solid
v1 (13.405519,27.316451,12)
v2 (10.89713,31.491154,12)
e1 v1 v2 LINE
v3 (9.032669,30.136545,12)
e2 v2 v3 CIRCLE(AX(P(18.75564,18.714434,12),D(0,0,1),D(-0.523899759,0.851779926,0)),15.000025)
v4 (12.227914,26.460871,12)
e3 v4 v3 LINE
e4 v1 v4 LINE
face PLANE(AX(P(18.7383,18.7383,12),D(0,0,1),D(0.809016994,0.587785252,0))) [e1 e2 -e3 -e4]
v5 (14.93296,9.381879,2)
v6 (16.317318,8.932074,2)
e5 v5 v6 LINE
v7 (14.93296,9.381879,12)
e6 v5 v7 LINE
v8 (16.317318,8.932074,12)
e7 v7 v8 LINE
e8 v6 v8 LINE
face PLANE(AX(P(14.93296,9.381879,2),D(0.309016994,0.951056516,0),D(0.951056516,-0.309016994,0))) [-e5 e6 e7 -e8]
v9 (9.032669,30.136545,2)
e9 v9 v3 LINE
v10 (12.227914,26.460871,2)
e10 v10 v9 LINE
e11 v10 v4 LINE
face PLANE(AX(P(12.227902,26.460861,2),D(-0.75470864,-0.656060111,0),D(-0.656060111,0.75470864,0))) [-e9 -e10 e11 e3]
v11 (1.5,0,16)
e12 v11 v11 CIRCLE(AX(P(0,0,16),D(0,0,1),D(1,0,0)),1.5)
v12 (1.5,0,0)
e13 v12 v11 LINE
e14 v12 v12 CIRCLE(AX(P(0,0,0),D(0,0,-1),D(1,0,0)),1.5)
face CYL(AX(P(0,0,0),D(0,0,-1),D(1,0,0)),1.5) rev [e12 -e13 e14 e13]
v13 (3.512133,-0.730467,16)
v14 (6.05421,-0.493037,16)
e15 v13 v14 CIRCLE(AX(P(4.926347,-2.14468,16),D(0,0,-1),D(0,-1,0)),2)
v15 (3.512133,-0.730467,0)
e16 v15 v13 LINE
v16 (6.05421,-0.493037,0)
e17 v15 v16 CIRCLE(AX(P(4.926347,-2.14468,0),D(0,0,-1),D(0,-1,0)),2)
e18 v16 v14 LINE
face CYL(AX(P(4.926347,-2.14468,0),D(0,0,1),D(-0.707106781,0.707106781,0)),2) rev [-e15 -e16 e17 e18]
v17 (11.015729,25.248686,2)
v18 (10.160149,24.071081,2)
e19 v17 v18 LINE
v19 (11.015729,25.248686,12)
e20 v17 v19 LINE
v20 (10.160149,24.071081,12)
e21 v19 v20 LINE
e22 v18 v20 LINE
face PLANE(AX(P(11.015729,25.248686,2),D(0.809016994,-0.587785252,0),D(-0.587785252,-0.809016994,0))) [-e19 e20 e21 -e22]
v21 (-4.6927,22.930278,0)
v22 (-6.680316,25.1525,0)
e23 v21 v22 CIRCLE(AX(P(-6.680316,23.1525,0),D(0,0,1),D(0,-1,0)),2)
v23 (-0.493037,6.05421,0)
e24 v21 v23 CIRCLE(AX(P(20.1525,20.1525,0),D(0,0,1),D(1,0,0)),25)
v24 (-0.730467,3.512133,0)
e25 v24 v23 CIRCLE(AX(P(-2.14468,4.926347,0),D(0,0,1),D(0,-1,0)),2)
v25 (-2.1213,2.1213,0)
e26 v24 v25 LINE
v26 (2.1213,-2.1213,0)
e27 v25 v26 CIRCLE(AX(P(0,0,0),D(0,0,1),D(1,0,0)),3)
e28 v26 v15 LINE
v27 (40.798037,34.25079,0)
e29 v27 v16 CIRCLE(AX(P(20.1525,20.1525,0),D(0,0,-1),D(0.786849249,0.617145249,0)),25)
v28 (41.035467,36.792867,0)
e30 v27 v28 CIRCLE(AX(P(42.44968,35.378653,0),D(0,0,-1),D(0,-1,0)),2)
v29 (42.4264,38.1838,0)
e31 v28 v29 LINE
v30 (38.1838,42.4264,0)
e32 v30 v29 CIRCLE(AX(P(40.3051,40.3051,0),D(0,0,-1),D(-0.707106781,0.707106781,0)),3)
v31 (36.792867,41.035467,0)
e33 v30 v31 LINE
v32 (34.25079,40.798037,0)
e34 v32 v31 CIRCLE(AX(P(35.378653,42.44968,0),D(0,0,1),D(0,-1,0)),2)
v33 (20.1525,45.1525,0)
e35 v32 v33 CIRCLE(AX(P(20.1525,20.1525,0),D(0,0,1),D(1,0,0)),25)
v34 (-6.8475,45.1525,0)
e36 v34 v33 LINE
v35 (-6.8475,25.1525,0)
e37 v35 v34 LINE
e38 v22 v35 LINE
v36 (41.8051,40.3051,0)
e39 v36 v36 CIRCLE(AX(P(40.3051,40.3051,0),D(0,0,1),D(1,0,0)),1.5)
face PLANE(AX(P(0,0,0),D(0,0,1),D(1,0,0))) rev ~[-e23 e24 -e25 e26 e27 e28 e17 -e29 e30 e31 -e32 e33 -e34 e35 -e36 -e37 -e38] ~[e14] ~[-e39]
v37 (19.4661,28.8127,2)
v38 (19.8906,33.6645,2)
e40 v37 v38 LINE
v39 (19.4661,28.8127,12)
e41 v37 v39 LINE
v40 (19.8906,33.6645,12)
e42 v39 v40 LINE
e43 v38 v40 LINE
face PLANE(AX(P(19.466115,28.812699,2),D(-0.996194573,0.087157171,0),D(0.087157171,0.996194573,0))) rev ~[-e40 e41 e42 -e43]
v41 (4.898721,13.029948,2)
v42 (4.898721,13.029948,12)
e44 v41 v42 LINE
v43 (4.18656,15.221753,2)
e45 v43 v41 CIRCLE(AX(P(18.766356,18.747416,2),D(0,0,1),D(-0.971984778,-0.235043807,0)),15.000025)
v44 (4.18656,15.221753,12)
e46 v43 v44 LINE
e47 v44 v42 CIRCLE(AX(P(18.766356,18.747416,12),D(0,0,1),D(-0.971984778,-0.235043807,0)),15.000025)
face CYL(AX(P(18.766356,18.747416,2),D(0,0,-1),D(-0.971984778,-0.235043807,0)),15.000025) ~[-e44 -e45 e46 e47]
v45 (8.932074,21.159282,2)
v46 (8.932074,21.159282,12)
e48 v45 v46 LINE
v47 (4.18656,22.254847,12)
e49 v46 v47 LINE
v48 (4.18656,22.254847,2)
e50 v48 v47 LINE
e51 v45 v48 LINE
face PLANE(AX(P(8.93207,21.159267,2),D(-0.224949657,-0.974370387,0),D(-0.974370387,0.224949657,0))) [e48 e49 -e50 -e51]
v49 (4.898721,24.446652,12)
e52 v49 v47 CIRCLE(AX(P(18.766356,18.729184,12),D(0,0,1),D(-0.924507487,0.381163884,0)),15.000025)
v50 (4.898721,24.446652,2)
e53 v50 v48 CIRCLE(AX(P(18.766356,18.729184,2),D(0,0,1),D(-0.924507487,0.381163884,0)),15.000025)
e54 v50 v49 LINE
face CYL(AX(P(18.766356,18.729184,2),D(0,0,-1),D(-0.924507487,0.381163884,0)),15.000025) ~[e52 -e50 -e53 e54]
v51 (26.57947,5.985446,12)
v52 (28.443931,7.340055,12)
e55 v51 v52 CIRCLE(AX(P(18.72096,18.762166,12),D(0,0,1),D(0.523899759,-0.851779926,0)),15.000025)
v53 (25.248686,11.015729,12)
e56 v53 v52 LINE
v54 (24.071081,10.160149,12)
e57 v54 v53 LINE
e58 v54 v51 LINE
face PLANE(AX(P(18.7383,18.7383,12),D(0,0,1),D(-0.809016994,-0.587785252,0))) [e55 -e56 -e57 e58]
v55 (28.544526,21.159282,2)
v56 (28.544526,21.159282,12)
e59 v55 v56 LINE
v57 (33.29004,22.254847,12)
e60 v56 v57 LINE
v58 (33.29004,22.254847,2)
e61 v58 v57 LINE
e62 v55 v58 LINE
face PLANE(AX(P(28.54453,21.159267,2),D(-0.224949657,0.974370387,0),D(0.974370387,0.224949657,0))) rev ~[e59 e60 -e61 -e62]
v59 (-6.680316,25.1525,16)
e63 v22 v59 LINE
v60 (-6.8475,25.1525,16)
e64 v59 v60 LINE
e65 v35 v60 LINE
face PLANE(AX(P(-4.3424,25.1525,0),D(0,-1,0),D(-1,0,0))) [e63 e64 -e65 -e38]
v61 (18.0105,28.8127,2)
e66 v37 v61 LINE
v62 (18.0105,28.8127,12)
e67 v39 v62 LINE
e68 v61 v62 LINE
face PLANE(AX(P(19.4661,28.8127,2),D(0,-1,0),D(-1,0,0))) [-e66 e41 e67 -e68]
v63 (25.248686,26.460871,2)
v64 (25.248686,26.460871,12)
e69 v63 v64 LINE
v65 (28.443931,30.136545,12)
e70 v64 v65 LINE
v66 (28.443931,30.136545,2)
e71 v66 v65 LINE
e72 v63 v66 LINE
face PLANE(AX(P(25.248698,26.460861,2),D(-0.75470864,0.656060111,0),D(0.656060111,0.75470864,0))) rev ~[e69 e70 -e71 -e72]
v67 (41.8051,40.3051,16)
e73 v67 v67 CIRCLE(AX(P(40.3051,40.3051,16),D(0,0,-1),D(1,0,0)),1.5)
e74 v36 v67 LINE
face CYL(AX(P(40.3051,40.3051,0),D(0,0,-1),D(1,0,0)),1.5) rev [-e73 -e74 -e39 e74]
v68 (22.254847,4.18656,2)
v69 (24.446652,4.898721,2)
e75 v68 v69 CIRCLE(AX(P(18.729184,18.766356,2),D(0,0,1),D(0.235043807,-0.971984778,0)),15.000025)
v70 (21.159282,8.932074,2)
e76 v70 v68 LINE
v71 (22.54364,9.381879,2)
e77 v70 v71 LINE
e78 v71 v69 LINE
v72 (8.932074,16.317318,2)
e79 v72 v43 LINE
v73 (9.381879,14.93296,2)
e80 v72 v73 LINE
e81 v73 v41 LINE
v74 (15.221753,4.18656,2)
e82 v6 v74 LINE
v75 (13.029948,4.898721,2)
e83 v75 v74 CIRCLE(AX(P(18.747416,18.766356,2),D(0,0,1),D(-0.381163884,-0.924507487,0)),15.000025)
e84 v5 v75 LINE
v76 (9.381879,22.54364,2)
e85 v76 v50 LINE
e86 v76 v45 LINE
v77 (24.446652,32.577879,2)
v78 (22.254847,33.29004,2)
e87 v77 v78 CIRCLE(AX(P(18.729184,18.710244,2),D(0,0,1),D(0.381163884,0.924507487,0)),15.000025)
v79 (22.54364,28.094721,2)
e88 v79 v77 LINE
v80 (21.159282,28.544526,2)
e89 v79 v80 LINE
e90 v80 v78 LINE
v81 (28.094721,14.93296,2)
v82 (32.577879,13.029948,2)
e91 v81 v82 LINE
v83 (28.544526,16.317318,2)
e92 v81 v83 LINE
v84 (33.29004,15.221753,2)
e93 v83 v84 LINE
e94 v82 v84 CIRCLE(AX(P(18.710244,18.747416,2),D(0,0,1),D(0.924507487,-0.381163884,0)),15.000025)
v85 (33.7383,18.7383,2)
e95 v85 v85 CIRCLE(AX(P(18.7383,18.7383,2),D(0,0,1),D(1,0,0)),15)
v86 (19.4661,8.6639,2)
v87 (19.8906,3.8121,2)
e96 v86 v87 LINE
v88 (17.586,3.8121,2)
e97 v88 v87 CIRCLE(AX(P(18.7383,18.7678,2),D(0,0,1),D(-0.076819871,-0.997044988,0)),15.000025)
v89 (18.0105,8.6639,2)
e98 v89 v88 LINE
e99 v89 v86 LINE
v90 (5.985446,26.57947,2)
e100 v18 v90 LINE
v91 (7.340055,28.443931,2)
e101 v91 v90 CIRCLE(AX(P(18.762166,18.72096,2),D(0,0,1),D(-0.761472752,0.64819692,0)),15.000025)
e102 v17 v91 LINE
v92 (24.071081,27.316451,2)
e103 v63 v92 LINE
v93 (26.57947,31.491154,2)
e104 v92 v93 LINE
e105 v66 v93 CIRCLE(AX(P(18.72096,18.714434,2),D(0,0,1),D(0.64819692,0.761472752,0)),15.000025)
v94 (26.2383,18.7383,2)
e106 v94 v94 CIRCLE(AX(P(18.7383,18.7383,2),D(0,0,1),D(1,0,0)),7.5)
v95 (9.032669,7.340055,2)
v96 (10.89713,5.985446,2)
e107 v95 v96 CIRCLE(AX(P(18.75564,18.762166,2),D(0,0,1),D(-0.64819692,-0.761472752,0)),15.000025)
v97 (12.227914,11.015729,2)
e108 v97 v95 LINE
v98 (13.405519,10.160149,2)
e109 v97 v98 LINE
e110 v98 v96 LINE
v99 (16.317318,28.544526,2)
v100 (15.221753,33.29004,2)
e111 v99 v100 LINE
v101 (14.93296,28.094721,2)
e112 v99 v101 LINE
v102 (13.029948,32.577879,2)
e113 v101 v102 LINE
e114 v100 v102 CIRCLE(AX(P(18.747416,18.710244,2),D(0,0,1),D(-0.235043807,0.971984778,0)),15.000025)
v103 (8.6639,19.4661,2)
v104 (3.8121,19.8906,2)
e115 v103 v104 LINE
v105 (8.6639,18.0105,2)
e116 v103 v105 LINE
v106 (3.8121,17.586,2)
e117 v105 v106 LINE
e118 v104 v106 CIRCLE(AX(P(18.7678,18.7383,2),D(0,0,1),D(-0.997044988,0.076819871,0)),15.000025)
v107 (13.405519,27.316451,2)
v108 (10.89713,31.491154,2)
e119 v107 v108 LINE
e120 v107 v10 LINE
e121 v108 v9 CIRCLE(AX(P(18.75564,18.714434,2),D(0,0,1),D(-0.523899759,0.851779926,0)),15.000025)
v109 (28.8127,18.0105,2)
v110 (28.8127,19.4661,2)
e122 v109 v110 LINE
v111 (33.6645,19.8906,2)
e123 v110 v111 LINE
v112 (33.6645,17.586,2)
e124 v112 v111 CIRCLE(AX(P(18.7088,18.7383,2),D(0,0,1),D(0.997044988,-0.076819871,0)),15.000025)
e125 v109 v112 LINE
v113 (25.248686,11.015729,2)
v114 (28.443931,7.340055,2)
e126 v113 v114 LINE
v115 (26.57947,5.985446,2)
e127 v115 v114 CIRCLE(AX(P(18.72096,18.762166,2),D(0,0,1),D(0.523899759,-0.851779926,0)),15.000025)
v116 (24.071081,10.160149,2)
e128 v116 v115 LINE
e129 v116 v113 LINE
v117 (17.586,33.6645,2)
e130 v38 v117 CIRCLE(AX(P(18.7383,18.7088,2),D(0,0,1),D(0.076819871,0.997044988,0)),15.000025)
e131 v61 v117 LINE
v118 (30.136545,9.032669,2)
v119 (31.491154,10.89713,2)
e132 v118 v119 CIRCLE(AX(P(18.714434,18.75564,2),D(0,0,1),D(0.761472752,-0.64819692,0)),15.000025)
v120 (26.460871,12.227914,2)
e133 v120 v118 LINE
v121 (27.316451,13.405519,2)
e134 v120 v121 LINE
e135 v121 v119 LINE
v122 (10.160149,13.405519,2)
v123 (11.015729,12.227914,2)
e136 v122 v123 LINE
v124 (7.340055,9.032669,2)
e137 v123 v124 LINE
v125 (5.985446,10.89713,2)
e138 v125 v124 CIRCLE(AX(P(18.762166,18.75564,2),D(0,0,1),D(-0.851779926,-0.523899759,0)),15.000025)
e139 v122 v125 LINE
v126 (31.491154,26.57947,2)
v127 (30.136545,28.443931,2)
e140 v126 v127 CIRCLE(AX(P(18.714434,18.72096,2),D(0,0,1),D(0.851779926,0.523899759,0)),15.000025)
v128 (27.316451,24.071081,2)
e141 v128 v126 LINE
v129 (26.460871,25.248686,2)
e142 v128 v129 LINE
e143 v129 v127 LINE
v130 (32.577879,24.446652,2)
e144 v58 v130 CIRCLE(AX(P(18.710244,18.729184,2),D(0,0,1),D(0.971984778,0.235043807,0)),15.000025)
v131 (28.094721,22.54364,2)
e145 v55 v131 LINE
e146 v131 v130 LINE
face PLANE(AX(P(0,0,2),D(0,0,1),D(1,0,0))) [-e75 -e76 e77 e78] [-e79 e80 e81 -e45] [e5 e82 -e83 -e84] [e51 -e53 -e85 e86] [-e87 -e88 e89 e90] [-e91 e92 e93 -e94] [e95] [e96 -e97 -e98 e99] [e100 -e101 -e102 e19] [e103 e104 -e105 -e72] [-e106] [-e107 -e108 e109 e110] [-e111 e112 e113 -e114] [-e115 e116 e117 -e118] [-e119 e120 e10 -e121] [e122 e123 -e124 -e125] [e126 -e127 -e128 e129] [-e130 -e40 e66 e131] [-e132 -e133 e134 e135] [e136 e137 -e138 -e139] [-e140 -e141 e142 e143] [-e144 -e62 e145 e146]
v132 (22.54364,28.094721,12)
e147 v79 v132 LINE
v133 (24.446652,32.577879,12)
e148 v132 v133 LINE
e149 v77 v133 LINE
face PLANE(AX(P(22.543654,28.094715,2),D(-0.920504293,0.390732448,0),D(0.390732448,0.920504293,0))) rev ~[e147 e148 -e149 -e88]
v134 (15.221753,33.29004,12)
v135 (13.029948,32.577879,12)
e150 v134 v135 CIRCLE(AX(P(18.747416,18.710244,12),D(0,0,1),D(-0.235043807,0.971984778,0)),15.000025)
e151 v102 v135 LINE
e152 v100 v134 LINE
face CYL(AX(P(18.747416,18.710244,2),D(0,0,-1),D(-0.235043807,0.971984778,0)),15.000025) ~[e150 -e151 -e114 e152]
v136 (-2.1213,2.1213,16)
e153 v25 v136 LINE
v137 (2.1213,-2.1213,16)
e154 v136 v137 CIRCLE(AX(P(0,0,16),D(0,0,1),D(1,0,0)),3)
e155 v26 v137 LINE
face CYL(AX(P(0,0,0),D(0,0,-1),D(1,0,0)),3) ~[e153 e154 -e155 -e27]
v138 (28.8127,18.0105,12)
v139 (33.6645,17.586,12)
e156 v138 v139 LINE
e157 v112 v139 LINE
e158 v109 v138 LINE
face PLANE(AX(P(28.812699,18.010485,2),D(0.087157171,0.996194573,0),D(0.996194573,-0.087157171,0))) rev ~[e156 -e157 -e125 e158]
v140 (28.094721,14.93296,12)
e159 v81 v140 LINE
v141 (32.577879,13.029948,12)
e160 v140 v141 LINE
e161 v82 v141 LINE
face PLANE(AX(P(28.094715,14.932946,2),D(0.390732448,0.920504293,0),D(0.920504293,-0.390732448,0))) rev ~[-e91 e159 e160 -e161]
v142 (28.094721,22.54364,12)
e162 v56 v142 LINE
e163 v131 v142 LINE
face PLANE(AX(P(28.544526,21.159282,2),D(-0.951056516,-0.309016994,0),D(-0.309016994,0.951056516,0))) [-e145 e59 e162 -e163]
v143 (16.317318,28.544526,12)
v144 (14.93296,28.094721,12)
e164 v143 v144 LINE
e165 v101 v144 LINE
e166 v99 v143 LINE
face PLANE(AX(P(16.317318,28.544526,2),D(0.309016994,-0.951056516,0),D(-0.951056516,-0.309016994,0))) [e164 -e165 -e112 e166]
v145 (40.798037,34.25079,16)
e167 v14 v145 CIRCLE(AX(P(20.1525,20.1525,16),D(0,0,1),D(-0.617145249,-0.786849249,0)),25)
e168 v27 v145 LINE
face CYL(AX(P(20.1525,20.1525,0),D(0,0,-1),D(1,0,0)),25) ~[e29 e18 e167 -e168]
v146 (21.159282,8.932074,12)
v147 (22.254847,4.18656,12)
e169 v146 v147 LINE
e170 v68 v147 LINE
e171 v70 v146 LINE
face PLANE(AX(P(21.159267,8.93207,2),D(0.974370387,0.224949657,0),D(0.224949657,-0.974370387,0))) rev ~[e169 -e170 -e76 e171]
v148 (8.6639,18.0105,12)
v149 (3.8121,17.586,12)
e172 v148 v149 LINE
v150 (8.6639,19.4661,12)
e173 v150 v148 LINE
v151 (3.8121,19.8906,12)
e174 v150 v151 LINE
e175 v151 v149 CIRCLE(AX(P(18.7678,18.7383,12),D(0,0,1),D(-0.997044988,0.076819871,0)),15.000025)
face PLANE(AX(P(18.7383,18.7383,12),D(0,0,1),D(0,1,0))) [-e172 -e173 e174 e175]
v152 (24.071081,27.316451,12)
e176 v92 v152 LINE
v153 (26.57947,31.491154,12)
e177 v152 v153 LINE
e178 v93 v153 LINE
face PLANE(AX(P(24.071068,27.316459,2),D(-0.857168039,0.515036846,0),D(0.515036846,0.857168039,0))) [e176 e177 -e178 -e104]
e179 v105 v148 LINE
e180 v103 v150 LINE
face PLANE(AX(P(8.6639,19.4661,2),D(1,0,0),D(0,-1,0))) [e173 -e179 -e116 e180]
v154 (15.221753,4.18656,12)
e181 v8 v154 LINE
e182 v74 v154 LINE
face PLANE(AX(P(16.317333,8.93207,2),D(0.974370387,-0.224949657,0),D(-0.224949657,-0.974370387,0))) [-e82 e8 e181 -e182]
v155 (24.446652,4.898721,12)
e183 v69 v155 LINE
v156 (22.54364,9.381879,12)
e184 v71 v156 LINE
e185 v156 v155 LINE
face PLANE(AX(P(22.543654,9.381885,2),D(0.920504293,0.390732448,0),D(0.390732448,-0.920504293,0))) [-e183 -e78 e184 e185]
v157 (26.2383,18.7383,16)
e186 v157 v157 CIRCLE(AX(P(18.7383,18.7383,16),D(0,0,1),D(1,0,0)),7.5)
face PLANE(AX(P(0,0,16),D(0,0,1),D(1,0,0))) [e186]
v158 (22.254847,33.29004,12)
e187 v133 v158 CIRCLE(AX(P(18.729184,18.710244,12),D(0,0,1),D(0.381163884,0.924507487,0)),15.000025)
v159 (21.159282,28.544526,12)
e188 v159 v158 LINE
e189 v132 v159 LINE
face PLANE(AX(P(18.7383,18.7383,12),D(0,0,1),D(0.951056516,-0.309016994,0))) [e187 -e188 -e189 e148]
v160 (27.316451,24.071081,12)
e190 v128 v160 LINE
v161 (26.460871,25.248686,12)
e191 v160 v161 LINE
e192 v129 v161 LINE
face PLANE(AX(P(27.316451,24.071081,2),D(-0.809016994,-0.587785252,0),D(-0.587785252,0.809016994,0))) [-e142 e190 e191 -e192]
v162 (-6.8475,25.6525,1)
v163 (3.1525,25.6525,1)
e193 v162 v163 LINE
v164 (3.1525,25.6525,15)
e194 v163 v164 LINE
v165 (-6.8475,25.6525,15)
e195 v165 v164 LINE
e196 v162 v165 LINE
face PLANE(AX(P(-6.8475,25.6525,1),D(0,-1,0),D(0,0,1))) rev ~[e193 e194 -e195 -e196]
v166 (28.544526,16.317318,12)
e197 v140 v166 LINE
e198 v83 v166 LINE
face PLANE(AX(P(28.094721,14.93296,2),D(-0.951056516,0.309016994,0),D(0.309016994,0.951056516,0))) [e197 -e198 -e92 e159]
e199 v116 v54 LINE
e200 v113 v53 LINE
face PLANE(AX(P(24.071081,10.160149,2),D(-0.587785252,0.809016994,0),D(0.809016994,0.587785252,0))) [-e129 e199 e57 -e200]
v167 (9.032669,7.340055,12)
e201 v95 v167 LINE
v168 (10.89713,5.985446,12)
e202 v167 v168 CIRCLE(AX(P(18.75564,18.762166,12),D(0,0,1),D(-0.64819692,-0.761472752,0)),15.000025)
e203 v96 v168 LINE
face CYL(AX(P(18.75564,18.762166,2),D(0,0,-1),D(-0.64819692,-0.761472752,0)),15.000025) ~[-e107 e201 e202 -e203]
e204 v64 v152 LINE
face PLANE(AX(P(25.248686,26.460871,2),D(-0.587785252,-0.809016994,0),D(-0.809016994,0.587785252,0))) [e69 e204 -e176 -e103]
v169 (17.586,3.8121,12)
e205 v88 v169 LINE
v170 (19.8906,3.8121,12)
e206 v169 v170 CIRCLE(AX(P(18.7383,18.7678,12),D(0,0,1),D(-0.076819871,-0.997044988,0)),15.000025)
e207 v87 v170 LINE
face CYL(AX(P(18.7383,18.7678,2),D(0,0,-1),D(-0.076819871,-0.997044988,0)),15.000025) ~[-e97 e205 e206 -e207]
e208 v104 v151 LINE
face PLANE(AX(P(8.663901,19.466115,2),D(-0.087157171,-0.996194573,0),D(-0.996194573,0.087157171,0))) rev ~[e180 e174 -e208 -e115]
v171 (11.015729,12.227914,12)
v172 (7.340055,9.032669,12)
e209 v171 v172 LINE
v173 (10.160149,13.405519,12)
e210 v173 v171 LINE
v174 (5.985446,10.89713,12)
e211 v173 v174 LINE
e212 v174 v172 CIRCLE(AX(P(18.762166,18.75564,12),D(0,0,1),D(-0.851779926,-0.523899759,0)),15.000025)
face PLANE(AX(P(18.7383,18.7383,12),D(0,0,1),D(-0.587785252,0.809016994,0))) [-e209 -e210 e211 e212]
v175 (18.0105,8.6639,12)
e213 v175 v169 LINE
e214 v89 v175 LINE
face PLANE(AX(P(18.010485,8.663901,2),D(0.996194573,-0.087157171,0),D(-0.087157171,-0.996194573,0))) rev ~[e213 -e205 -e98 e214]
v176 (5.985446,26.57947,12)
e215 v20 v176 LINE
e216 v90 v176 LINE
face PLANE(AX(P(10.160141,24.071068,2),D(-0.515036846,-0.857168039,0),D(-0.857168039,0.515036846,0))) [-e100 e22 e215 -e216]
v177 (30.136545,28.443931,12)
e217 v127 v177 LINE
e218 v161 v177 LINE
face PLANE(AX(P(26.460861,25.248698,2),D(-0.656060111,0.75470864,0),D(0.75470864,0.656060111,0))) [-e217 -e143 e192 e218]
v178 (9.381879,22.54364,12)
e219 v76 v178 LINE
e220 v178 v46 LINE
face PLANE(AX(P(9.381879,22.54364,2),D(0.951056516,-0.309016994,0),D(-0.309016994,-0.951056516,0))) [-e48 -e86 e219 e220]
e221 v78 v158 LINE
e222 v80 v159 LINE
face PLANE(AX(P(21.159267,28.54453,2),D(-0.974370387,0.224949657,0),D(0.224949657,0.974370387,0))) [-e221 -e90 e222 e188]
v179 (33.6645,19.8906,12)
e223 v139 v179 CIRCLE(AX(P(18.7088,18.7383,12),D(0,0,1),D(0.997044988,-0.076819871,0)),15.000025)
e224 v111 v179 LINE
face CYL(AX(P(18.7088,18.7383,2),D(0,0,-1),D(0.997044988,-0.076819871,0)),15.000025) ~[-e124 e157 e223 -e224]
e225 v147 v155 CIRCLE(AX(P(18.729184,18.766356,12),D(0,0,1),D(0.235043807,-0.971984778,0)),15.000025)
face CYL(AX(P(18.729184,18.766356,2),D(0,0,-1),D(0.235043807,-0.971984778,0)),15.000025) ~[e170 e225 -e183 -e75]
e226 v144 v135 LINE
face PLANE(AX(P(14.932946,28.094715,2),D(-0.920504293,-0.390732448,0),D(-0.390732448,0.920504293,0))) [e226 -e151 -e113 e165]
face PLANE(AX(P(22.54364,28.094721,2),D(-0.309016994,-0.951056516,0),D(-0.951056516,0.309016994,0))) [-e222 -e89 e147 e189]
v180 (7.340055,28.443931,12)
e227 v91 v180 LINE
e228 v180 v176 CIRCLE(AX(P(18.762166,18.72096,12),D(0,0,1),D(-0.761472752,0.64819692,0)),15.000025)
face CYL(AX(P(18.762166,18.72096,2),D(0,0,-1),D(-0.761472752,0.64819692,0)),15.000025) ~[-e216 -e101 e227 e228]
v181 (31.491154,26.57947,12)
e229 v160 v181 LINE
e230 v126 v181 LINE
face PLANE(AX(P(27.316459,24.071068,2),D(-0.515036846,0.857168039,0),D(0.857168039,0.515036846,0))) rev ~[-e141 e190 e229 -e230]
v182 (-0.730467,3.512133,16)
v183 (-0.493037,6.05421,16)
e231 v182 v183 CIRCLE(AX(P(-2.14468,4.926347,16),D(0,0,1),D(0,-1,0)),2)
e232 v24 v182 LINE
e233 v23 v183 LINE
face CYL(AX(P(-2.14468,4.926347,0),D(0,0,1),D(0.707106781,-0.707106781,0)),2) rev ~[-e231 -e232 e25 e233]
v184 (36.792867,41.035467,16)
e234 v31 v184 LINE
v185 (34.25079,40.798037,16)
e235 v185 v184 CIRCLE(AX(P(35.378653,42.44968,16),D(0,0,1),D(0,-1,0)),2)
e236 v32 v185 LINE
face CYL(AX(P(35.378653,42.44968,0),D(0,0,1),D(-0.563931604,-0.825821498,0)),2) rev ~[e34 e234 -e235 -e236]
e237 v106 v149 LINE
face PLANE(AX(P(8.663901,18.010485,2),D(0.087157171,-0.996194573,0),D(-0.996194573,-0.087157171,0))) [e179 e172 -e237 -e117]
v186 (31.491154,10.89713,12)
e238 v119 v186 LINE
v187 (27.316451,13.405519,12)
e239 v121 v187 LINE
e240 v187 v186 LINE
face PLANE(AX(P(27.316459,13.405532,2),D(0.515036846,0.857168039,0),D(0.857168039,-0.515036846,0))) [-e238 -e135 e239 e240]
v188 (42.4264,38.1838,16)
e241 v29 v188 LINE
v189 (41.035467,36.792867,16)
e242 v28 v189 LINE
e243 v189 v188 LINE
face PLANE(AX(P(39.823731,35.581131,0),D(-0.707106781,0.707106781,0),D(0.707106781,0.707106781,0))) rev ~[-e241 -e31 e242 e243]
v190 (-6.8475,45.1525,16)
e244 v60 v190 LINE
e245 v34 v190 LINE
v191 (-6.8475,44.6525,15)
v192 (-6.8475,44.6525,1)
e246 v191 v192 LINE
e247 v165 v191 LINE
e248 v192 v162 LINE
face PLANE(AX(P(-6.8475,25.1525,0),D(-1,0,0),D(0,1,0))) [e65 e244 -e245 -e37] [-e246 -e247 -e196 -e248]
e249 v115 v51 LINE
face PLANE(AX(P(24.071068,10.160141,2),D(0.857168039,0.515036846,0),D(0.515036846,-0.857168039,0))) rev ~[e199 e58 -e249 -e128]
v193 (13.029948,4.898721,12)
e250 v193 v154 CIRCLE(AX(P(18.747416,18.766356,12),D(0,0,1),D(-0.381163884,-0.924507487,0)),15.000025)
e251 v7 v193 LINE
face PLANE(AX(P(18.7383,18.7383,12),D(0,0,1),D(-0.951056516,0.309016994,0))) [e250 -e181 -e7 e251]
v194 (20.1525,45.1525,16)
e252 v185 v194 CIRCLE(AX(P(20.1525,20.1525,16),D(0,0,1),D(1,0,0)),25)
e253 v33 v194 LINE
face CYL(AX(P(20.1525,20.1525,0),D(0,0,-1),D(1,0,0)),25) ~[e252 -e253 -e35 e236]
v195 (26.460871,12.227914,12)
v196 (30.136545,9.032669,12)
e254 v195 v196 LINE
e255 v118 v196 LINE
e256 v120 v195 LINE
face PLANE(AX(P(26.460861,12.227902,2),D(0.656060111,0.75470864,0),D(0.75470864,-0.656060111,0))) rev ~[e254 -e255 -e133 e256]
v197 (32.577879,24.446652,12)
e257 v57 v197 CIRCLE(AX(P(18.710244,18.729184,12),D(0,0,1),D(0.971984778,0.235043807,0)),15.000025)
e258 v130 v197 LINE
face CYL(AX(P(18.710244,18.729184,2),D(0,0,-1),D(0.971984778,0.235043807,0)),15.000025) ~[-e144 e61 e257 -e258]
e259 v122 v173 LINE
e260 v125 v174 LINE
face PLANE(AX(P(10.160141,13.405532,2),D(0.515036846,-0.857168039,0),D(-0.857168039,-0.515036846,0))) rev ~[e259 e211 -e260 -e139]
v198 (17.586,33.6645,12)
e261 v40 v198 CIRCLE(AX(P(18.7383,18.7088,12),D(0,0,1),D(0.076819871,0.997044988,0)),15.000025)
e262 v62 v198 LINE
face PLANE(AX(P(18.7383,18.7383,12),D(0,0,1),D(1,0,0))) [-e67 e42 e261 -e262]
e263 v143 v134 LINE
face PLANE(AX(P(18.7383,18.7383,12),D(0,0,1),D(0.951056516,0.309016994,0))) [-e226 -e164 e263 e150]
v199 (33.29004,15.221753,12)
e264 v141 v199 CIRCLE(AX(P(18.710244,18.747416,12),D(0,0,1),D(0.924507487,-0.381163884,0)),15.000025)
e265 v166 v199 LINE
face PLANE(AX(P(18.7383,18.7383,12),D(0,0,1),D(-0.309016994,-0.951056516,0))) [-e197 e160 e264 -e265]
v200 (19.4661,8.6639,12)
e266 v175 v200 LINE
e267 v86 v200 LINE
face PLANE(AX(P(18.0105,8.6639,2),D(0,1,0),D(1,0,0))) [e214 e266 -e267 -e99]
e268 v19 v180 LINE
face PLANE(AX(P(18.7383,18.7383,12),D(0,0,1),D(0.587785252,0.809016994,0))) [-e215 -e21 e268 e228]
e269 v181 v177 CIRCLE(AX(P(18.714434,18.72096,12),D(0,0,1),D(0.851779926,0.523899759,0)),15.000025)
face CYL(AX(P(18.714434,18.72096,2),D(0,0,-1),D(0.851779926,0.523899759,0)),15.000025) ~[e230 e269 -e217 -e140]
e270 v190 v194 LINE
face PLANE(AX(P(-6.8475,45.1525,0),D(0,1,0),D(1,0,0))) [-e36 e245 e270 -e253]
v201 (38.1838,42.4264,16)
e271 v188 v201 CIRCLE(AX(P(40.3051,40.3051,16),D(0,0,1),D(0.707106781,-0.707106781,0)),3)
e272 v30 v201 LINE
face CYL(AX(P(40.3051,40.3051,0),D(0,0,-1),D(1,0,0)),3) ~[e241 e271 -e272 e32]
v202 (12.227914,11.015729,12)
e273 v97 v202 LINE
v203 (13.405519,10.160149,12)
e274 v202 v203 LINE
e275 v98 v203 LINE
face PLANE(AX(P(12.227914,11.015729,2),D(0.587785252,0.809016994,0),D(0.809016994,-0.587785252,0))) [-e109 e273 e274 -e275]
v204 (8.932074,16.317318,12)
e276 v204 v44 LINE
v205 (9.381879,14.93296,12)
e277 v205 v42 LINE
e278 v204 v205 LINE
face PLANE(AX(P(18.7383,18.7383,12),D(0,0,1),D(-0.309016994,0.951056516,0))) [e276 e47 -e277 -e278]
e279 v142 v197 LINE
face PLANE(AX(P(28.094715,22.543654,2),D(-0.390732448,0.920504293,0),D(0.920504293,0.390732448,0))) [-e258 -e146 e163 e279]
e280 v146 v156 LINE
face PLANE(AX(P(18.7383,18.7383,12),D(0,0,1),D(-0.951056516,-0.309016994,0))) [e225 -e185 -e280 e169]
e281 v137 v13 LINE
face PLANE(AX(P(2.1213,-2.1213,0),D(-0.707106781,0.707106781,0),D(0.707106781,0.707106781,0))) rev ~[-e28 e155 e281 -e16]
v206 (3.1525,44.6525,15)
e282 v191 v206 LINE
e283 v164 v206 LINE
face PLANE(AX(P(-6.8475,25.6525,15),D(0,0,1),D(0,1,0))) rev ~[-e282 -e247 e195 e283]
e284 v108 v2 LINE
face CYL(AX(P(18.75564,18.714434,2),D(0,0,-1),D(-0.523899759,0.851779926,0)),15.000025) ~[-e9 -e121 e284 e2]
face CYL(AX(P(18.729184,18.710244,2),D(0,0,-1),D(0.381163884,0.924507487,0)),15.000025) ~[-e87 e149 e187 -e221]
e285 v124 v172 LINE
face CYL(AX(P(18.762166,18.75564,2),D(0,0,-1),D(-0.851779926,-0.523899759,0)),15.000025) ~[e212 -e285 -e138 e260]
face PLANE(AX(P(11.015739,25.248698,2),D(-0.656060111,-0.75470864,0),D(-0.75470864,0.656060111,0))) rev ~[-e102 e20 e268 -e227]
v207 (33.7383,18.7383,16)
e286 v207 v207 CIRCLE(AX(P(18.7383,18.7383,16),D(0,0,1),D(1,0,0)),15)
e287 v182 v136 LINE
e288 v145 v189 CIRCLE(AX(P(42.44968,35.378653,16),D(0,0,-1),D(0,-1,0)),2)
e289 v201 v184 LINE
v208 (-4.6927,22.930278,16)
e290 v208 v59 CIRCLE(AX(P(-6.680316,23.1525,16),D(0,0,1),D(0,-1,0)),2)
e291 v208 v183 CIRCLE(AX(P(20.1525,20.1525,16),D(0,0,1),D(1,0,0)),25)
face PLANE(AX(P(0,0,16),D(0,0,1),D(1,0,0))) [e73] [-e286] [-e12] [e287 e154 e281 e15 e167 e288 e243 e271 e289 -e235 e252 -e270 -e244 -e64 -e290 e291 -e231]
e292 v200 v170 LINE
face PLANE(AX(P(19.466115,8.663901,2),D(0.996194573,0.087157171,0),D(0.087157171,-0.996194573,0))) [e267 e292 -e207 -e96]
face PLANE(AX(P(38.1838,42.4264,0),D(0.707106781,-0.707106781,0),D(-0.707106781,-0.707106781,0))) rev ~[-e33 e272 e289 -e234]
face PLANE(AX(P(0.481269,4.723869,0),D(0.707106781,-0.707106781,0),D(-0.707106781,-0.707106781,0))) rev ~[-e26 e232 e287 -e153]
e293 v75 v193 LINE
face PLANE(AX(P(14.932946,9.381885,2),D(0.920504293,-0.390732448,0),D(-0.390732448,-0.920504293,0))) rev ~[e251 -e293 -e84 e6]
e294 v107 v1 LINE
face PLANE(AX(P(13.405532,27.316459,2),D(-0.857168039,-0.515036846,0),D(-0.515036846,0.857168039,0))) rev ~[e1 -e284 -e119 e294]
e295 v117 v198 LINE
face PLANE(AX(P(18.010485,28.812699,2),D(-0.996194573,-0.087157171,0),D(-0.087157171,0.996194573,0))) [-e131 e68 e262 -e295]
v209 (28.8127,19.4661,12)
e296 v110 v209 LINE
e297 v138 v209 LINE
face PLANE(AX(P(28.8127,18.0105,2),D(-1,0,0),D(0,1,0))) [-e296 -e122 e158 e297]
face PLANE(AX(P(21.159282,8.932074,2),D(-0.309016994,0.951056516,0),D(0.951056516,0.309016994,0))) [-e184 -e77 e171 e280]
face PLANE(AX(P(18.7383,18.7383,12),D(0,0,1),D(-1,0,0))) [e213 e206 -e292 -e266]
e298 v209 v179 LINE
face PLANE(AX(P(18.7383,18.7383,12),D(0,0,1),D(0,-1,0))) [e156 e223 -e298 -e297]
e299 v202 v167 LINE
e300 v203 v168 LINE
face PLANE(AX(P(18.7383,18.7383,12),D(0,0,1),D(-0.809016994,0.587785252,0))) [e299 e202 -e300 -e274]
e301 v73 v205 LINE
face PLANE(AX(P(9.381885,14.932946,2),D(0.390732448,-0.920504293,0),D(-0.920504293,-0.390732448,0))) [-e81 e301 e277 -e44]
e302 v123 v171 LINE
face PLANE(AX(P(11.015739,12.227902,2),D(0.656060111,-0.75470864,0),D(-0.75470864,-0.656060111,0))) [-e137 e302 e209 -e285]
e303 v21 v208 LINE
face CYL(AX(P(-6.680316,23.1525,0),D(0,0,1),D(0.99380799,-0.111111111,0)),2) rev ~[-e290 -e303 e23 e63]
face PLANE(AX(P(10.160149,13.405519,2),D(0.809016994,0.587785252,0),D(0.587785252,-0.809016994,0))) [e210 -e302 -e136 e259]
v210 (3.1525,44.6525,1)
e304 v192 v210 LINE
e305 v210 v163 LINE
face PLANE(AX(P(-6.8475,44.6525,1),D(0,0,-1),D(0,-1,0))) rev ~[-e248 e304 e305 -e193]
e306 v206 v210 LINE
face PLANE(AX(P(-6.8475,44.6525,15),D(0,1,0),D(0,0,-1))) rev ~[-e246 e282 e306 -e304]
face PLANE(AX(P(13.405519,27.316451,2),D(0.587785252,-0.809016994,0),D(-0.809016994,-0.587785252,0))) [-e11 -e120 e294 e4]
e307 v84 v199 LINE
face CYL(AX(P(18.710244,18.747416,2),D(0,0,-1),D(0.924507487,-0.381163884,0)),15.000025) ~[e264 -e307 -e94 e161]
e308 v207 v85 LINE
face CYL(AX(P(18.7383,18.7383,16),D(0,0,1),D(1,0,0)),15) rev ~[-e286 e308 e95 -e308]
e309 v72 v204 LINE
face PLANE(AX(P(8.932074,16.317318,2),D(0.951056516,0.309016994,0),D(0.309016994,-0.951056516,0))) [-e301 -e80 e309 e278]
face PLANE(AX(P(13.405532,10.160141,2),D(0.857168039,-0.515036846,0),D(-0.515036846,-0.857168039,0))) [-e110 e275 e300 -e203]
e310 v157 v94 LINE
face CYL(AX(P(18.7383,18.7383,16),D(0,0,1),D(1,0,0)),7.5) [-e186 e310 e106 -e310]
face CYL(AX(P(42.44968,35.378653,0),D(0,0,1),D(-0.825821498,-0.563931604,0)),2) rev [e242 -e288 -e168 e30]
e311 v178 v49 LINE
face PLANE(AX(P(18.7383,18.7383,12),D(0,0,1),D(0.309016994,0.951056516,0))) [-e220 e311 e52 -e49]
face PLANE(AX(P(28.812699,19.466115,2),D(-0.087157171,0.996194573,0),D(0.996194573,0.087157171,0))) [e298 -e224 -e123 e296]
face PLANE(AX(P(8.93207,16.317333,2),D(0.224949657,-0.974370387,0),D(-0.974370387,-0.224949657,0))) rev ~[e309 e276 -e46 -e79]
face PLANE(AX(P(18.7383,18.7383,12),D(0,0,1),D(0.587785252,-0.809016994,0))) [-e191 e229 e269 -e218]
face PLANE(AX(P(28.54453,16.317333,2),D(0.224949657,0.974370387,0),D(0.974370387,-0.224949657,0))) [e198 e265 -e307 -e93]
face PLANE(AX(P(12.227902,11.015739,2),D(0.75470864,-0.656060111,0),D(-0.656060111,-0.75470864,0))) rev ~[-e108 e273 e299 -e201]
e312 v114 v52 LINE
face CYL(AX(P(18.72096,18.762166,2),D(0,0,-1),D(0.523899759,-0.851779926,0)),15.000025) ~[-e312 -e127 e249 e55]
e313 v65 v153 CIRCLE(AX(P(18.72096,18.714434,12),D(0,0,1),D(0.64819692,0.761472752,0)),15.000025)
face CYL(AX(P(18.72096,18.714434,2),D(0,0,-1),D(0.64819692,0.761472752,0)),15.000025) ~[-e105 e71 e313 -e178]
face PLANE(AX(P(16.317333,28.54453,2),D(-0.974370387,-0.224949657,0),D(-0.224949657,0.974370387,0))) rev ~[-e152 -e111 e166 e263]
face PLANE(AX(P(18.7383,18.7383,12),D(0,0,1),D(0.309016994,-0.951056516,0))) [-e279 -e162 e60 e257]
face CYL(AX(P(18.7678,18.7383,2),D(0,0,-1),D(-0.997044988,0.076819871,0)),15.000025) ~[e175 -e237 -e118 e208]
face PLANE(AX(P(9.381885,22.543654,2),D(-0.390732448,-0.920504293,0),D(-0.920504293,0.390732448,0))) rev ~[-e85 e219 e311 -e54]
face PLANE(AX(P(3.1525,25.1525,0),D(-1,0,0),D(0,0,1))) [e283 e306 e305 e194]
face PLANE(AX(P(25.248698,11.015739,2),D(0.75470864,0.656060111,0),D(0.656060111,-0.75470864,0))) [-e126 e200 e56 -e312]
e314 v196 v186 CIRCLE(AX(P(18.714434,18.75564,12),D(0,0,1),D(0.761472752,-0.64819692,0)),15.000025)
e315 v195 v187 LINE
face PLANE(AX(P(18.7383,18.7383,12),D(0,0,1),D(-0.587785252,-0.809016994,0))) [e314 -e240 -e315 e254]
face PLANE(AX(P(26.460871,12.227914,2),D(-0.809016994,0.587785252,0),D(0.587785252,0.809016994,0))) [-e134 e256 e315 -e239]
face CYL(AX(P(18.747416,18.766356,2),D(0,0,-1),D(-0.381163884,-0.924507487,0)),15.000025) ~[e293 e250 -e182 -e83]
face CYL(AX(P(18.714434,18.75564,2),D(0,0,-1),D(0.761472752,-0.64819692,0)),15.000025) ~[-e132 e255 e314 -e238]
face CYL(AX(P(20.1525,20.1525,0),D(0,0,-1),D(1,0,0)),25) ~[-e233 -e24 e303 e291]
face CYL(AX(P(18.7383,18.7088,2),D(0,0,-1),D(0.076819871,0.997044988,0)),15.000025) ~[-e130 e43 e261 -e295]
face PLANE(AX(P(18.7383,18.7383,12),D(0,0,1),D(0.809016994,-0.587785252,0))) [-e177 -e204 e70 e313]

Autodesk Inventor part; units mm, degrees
ref_plane "YZ Plane" through (0, 0, 0) normal (1, 0, 0) x (0, 1, 0)
ref_plane "XZ Plane" through (0, 0, 0) normal (0, 1, 0) x (-1, 0, 0)
ref_plane "XY Plane" through (0, 0, 0) normal (0, 0, 1) x (1, 0, 0)
sketch "Sketch1" plane through (0, 0, 0) normal (0, 0, 1) x (1, 0, 0)
  line L0 (0, 0) -> (40.3051, 0) construction
  line L1 (40.3051, 0) -> (40.3051, 40.3051) construction
  line L2 (40.3051, 40.3051) -> (0, 40.3051) construction
  line L3 (0, 40.3051) -> (0, 0) construction
  circle A0 centre (0, 0) radius 1.5
  circle A1 centre (40.3051, 40.3051) radius 1.5
  circle A2 centre (20.1525, 20.1525) radius 25
  circle A3 centre (0, 0) radius 3
  circle A4 centre (40.3051, 40.3051) radius 3
  line L4 (2.1213, -2.1213) -> (42.4264, 38.1838)
  line L5 (42.4264, 38.1838) -> (38.1838, 42.4264)
  line L6 (38.1838, 42.4264) -> (-2.1213, 2.1213)
  line L7 (-2.1213, 2.1213) -> (2.1213, -2.1213)
  line L8 (2.1213, -2.1213) -> (38.1838, 42.4264) construction
  line L9 (42.4264, 38.1838) -> (-2.1213, 2.1213) construction
  line L10 (32.6492, 41.8051) -> (-4.8475, 41.8051) construction
  line L11 (-4.8475, 41.8051) -> (-4.8475, 20.1525) construction
  line L12 (-6.8475, 45.1525) -> (20.1525, 45.1525)
  line L13 (-6.8475, 25.1525) -> (-6.8475, 45.1525)
  line L14 (-4.3424, 25.1525) -> (-6.8475, 25.1525)
  point P0 (1.1525, 41.8051)
  point P1 (35.5812, 39.8238)
  point P2 (0.4813, 4.7239)
  point P3 (4.7239, 0.4813)
  point P4 (39.8238, 35.5812)
  dimension "d0" = 40.3051
  dimension "d1" = 40.3051
  dimension "d2" = 3
  dimension "d3" = 3
  dimension "d4" = 50
  dimension "d5" = 6
  dimension "d6" = 6
  dimension "d7" = 6
  dimension "d10" = 2
  dimension "d35" = 20
extrude "Extrusion1" add sketch "Sketch1" along normal blind 16 contours A0 L7 A3 | A0 L7 A3 | L6 A2 L4 A3 | L6 A2 L4 | A2 L6 | L4 A2 | L14 L13 L12 A2 | L6 A4 L4 A2 | L5 A1 A4 | A4 L5 A1
fillet "Fillet1" radius 2 6 edges at (-4.3424, 25.1525, 8) (0.4813, 4.7239, 8) (4.7239, 0.4813, 8) (20.1525, 45.1525, 8) (35.5812, 39.8238, 8) (39.8238, 35.5812, 8)
sketch "Sketch4" plane through (-6.8475, 25.1525, 0) normal (-1, 0, 0) x (0, 0, 1)
  line L0 (0, 20) -> (0, 0) construction
  line L1 (0, 20) -> (16, 20) construction
  line L2 (0, 0) -> (16, 20) construction
  line L3 (1, 0.5) -> (15, 0.5)
  line L4 (15, 0.5) -> (15, 19.5)
  line L5 (15, 19.5) -> (1, 19.5)
  line L6 (1, 19.5) -> (1, 0.5)
  line L7 (1, 0.5) -> (15, 19.5) construction
  line L8 (15, 0.5) -> (1, 19.5) construction
  point P0 (0, -25.1525)
  point P1 (8, 10)
  dimension "d31" = 14
  dimension "d32" = 19
extrude "Extrusion4" cut sketch "Sketch4" against normal blind 10
sketch "Sketch2" plane through (0, 0, 16) normal (0, 0, 1) x (1, 0, 0)
  arc A0 (6.0543, -0.493) -> (40.7981, 34.2508) centre (20.1525, 20.1525) ccw
  circle A1 centre (18.7383, 18.7383) radius 15
  circle A2 centre (18.7383, 18.7383) radius 7.5
  circle A3 centre (0, 0) radius 1.5 construction
  circle A4 centre (40.3051, 40.3051) radius 1.5 construction
  line L0 (0, 0) -> (40.3051, 40.3051) construction
  dimension "d15" = 30
  dimension "d16" = 15
  dimension "d36" = 18.7383
extrude "Extrusion2" cut sketch "Sketch2" against normal blind 14
sketch "Sketch3" plane through (18.7383, 18.7383, 2) normal (0, 0, 1) x (1, 0, 0)
  circle A0 centre (0, -0.0295) radius 15 construction
  circle A1 centre (0, -0.0295) radius 7.5 construction
  line L0 (0, 7.4705) -> (-0.5, 7.4705)
  line L1 (0, 7.4705) -> (0.5, 7.4705) construction
  line L2 (-0.5, 7.4705) -> (-1.1523, 14.9262)
  line L3 (0, 7.4705) -> (0.5, 7.4705)
  line L4 (0.5, 7.4705) -> (1.1523, 14.9262)
  line L5 (0.7278, 10.0744) -> (-0.7278, 10.0744)
  arc A2 (1.1523, 14.9262) -> (-1.1523, 14.9262) centre (0, -0.0295) ccw
  point P0 (-18.7383, -18.7383)
  dimension "d20" = 15
  dimension "d19" = 30
  dimension "d21" = 0.5
  dimension "d22" = 180
  dimension "d23" = 95
  dimension "d24" = 0.5
  dimension "d25" = 95
extrude "Extrusion3" add sketch "Sketch3" along normal blind 10 contours L2 A2 L4 L5
pattern_circular "Circular Pattern1" count 20 over 360 about axis through (18.7383, 18.7383, 16) along (0, 0, -1) of "Extrusion3"
equation "\"d1\" = d0"
properties part number "BlowerFan" material "ABS Plastic"
